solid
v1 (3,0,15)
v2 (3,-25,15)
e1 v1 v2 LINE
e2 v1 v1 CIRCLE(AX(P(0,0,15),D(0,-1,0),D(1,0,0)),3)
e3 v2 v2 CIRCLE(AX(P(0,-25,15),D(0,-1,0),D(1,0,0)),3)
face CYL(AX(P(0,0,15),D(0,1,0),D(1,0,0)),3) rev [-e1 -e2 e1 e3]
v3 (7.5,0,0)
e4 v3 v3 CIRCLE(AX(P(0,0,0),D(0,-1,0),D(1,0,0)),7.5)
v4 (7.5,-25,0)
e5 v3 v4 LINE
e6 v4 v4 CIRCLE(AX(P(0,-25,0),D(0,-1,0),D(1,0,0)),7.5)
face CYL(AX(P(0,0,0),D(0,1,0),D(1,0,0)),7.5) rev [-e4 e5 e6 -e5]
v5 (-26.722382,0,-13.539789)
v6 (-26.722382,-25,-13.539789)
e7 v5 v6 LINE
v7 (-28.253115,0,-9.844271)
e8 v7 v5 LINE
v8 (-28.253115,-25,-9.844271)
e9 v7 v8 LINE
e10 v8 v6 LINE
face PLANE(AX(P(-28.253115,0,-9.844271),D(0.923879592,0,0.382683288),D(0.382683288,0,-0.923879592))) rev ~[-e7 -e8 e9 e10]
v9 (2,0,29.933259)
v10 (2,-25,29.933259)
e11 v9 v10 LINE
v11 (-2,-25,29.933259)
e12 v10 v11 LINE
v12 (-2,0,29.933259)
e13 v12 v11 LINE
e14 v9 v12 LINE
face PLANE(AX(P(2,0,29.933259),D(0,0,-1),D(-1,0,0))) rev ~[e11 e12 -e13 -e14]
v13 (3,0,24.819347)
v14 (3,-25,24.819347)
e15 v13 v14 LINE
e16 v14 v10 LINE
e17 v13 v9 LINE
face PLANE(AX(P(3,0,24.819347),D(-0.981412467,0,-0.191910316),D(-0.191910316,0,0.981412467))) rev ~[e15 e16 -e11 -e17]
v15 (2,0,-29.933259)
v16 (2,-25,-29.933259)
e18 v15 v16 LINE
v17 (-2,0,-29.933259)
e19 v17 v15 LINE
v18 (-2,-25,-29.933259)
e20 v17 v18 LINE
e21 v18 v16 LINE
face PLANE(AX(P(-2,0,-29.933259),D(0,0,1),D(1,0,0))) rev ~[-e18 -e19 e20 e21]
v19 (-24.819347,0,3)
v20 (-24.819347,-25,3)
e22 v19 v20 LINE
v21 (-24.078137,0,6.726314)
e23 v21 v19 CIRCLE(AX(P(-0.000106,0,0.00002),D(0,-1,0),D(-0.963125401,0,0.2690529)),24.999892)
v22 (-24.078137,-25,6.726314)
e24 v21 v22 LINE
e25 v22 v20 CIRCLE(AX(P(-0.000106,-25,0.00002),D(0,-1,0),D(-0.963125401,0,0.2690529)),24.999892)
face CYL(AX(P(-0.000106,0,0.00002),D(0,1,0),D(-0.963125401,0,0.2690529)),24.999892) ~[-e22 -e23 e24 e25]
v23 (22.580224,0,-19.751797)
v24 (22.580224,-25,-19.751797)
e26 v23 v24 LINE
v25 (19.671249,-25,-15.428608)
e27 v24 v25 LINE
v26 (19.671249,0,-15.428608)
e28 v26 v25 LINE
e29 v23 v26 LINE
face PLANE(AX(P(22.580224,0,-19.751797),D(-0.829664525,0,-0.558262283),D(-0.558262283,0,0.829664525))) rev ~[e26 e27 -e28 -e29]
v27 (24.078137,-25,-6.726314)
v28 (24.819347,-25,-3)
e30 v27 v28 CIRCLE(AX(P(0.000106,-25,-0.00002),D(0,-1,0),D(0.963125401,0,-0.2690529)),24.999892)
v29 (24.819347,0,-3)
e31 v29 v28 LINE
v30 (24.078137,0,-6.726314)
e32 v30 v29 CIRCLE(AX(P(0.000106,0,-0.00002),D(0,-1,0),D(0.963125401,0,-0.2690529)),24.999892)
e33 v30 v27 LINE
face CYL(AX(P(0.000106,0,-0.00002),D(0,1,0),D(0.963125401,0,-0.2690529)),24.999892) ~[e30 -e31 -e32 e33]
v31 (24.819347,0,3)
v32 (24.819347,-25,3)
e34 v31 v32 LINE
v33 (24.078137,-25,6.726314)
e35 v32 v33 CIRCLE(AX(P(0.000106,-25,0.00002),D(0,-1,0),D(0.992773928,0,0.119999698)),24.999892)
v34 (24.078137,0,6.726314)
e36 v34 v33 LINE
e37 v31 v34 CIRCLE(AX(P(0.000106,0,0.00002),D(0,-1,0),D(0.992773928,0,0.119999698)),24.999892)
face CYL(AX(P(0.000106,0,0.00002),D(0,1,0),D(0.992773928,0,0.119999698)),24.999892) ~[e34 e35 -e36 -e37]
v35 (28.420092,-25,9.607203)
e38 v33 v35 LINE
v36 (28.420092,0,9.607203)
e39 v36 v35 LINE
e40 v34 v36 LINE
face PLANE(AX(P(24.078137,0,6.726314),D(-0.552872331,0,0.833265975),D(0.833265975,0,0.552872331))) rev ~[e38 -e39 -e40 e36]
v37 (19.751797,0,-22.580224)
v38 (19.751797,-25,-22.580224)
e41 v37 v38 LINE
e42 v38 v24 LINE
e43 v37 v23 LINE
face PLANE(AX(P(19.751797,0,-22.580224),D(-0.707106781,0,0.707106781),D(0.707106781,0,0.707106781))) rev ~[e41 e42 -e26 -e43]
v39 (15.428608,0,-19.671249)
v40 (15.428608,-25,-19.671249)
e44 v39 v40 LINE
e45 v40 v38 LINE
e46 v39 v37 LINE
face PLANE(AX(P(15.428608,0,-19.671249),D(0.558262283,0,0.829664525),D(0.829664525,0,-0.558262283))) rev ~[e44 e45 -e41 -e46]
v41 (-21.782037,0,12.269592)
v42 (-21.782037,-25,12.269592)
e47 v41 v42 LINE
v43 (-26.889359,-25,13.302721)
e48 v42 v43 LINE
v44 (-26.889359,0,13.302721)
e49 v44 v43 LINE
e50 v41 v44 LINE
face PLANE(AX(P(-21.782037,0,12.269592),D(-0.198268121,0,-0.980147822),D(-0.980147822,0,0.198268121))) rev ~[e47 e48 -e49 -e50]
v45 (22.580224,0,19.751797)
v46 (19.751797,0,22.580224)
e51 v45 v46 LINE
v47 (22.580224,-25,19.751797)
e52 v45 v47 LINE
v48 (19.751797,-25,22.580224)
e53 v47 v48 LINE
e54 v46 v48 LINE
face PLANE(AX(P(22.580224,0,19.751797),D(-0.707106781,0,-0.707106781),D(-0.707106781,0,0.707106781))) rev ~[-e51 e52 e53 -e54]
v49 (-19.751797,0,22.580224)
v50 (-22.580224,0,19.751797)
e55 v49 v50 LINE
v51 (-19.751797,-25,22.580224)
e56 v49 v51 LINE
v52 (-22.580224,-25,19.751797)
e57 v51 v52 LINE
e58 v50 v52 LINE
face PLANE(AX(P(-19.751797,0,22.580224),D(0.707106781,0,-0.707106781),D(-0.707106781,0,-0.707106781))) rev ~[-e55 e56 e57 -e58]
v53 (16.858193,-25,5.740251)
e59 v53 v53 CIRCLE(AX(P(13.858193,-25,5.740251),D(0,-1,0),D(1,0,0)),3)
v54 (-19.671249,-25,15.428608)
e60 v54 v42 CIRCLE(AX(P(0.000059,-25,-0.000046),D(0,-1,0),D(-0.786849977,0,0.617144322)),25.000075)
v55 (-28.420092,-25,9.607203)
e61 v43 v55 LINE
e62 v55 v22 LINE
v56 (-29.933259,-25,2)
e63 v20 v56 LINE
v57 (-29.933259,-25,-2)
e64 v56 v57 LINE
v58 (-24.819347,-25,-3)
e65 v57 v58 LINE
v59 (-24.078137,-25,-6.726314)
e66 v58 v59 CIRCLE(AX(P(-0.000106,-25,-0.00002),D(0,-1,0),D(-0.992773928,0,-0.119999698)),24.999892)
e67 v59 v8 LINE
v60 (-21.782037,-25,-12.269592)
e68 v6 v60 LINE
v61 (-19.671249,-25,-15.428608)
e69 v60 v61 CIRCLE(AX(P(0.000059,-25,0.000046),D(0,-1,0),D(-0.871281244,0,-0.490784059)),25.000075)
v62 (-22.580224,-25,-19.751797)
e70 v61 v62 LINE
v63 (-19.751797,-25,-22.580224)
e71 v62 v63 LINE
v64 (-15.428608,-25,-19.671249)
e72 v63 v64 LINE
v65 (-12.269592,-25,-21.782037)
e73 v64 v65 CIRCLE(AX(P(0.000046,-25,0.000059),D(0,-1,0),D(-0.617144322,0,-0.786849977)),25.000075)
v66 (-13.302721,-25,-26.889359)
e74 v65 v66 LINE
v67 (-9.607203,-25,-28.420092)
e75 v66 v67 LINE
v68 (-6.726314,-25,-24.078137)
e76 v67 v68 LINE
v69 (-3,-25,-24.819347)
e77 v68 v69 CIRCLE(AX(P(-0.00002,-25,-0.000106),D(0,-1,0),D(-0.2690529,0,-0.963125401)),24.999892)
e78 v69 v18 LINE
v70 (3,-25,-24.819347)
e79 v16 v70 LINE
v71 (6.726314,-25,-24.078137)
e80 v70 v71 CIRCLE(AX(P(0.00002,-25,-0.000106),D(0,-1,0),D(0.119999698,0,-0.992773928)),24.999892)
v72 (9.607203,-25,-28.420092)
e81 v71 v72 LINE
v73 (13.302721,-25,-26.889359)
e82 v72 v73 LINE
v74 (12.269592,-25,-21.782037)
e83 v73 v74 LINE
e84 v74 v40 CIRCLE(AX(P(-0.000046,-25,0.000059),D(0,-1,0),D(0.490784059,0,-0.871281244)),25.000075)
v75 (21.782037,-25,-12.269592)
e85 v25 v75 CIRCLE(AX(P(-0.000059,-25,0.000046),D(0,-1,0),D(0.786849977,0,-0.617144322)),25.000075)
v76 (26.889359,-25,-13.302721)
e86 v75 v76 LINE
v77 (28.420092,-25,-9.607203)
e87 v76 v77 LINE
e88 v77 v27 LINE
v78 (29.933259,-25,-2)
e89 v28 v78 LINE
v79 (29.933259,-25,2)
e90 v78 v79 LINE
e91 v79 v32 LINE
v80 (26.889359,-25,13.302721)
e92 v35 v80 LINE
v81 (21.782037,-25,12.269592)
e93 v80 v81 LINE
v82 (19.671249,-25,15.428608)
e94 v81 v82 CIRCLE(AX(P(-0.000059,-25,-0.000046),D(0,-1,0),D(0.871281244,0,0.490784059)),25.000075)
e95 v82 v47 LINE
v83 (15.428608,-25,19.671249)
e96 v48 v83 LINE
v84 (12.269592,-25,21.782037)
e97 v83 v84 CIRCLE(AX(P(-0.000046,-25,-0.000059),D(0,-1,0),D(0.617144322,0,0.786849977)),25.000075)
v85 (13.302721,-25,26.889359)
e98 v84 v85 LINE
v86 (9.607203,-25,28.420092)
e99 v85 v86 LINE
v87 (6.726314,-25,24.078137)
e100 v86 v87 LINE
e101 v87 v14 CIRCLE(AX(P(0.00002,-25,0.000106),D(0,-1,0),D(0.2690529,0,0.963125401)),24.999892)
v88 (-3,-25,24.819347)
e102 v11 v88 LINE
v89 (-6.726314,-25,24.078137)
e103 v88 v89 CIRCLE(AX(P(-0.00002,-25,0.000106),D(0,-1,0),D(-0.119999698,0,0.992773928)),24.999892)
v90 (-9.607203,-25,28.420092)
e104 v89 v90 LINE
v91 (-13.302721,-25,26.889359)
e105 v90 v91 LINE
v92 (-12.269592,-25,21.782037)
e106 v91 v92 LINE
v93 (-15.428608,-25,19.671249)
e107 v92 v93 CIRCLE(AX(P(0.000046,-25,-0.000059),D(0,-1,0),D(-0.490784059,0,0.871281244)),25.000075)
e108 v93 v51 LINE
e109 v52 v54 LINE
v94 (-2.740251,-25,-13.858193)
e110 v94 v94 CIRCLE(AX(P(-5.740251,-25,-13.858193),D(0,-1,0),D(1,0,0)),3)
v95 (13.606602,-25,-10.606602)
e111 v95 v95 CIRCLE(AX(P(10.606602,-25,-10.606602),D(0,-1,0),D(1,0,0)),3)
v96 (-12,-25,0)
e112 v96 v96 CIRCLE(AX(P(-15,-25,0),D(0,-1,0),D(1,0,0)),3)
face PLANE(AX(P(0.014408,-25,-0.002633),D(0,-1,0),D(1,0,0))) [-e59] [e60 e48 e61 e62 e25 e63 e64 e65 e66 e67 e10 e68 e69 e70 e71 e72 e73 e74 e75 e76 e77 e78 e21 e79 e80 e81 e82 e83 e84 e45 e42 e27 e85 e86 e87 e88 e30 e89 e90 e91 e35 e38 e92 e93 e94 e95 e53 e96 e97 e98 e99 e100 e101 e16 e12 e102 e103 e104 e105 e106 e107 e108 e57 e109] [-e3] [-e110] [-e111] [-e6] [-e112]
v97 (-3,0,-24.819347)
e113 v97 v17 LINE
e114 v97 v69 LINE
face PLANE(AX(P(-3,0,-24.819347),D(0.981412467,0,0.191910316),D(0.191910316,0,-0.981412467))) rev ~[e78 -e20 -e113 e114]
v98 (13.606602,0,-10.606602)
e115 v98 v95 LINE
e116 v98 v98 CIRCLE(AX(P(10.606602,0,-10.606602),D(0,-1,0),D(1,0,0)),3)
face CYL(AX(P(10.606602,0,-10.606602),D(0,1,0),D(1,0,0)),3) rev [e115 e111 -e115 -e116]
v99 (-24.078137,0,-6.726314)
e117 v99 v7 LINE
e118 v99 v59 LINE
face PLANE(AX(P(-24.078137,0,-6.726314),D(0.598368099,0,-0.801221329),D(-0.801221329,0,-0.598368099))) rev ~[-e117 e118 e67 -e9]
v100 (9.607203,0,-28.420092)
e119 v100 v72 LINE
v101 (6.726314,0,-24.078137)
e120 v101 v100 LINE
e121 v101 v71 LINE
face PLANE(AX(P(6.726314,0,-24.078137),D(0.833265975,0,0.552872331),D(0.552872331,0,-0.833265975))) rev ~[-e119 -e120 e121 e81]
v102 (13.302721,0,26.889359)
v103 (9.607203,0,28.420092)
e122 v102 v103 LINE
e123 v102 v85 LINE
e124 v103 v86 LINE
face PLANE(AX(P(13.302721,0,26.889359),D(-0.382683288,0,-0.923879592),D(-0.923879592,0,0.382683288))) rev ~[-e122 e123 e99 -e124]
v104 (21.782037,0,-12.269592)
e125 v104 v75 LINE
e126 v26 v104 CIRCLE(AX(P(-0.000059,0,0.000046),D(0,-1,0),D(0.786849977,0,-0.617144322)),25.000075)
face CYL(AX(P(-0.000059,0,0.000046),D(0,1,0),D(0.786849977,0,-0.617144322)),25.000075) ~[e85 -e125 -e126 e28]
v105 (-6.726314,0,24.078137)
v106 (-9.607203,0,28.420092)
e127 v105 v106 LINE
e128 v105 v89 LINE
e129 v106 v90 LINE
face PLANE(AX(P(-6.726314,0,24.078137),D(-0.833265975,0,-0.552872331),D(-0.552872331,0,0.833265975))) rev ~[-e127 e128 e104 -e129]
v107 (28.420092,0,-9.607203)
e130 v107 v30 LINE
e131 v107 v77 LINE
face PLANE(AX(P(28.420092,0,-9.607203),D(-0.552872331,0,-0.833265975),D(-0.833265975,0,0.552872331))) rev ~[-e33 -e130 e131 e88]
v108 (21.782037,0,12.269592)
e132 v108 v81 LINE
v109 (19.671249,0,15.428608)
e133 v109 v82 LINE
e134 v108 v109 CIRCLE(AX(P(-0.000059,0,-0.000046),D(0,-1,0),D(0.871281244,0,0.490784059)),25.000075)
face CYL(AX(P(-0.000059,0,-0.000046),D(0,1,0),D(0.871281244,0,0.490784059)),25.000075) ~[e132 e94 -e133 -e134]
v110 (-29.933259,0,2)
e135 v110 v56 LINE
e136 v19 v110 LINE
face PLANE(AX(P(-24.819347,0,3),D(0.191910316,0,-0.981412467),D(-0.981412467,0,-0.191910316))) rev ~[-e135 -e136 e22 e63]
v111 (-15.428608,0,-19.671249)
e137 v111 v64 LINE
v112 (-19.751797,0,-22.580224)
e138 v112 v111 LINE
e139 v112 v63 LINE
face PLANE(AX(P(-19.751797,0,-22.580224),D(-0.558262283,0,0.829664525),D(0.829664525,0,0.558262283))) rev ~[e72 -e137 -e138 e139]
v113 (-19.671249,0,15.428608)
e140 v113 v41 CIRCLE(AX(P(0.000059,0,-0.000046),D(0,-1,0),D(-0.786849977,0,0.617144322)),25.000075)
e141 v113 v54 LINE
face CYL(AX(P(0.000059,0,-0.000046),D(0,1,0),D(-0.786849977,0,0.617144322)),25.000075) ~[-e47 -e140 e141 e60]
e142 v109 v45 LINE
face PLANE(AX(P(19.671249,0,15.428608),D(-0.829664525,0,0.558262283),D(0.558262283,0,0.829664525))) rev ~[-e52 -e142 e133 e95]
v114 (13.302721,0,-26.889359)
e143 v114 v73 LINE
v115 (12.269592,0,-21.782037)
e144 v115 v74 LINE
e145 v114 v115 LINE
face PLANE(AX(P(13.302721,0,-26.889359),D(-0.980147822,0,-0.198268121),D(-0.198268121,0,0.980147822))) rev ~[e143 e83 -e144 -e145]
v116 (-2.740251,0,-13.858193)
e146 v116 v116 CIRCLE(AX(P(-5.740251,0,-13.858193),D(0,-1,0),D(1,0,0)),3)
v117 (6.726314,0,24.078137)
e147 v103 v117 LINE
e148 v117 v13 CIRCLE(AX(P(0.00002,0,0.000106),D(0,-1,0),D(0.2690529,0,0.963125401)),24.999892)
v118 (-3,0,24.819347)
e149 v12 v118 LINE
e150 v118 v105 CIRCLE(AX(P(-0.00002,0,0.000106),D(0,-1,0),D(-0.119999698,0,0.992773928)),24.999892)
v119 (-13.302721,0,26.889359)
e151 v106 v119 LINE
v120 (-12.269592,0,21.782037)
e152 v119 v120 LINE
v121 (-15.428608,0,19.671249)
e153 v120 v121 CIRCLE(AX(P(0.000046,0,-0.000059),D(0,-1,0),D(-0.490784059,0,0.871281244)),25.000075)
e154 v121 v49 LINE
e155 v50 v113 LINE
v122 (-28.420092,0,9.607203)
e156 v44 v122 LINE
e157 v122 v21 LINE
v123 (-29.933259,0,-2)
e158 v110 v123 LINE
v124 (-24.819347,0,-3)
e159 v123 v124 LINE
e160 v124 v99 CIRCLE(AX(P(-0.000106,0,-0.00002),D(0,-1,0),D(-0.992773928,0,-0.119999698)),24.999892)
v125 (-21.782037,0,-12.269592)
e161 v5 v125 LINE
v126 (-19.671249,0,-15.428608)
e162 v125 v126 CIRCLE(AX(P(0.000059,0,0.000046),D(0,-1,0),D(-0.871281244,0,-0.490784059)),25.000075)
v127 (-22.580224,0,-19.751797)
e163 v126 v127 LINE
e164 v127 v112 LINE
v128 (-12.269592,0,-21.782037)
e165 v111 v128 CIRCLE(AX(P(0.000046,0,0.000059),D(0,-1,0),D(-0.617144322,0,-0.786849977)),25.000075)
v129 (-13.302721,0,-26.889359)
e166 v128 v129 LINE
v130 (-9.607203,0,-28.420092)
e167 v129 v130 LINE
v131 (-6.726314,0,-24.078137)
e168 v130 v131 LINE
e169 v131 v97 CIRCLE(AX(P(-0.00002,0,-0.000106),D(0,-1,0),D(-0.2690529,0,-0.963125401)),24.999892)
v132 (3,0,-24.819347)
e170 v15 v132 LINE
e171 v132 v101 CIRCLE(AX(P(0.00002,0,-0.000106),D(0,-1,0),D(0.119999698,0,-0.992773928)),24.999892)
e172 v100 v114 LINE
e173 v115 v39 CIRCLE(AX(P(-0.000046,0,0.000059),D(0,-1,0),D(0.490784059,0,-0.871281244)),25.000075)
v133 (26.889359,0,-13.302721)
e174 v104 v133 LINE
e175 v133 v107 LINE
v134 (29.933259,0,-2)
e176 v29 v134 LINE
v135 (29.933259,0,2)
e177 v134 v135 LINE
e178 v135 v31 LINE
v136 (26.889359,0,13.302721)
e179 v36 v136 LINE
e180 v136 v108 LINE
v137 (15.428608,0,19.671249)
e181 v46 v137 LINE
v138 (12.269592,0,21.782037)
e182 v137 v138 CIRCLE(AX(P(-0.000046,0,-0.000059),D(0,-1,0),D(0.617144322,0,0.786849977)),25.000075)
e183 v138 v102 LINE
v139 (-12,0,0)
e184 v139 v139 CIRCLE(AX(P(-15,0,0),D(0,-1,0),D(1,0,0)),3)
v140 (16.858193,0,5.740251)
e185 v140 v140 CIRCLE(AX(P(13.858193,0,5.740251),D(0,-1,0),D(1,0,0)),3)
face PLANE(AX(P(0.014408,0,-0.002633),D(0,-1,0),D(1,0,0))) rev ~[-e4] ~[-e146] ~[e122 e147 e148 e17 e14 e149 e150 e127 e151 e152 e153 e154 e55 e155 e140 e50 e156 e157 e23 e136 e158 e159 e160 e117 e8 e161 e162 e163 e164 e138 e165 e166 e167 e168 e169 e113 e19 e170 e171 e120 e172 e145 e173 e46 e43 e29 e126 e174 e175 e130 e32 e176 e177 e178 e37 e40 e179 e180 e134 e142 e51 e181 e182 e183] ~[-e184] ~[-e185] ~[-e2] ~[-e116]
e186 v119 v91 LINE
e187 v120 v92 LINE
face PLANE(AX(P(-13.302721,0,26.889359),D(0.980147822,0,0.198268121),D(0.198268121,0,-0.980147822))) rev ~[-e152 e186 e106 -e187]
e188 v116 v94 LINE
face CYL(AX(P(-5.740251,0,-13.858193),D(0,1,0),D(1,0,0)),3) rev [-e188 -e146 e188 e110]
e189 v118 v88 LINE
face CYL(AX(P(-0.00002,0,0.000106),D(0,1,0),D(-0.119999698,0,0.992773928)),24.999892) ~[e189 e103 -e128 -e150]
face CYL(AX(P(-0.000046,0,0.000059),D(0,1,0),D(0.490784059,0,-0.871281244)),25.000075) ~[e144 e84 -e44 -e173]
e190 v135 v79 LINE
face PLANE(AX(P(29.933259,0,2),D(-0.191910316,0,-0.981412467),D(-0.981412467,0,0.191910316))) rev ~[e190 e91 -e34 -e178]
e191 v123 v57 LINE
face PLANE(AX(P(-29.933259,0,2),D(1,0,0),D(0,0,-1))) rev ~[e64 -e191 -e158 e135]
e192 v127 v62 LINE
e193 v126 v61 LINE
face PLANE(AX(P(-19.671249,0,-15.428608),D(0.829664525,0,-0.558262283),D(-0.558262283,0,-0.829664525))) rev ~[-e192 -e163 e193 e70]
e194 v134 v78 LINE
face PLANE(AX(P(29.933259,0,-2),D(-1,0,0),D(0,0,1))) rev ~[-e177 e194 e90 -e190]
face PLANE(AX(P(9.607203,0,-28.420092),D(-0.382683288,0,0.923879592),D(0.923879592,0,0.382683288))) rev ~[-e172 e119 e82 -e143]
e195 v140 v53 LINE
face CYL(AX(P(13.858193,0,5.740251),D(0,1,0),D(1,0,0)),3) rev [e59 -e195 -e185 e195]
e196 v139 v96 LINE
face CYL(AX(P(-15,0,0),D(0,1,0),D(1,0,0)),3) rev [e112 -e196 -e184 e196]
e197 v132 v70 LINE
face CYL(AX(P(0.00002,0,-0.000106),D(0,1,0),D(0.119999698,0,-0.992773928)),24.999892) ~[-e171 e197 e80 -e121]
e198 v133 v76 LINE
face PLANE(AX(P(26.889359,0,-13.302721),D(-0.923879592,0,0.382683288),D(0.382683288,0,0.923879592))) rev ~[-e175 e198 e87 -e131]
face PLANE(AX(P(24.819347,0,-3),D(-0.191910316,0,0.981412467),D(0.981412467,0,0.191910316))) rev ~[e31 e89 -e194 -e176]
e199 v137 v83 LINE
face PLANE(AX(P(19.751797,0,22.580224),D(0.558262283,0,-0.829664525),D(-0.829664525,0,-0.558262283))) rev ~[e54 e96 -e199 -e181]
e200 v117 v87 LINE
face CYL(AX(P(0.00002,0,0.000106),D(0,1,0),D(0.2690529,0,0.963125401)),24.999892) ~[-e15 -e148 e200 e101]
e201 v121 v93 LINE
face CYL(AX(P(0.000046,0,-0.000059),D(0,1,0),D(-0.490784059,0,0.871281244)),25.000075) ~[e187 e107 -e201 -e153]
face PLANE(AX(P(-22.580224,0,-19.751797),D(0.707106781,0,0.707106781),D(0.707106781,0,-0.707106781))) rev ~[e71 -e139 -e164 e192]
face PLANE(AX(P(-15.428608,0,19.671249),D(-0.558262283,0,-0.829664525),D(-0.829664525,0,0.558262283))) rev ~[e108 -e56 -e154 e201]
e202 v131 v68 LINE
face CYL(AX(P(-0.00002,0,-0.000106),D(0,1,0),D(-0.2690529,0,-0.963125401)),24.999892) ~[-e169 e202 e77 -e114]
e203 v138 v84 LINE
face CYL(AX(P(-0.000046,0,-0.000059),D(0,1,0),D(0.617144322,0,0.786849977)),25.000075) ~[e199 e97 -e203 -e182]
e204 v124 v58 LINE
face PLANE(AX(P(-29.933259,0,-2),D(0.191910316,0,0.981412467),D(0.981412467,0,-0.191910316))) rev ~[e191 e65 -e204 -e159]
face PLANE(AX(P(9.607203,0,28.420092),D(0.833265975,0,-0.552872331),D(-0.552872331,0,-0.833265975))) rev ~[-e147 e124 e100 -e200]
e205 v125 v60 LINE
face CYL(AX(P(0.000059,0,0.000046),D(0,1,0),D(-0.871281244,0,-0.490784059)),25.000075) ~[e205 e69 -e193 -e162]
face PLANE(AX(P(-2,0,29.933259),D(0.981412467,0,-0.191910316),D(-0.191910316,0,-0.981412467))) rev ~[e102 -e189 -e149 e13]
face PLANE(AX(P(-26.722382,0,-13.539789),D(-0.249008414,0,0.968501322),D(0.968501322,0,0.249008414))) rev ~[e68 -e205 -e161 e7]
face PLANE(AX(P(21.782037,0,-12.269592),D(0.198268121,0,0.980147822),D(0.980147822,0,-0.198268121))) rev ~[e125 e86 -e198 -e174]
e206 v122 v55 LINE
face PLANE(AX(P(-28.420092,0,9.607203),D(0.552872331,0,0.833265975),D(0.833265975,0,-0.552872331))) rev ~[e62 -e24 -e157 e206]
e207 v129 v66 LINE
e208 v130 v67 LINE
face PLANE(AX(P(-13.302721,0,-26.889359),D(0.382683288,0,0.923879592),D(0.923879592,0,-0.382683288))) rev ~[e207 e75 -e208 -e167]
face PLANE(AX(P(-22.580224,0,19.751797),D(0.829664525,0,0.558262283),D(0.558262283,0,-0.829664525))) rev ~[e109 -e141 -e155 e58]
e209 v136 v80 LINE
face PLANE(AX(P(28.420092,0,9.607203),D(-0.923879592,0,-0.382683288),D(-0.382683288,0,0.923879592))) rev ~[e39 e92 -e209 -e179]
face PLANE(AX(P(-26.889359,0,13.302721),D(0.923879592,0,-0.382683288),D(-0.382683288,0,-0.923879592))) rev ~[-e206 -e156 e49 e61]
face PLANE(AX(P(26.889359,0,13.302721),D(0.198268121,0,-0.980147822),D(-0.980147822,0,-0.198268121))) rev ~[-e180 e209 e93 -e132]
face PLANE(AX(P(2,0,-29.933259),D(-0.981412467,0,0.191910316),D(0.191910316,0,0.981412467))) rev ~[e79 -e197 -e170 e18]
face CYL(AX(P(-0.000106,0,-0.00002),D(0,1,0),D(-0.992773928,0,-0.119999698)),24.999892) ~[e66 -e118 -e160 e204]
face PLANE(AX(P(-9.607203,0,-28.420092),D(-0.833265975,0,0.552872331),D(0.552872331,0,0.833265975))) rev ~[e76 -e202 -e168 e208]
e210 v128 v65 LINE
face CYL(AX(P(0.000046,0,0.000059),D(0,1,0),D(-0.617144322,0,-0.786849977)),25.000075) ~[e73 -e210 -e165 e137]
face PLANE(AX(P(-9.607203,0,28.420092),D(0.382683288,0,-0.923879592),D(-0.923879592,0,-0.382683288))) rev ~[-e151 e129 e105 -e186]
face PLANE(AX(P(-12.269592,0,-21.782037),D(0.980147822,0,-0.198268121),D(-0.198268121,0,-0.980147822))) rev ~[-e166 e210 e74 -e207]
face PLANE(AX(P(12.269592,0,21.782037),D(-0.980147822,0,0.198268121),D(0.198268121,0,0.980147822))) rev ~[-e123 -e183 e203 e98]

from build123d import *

# Parameters (mm, degrees)
F0_R     = 3
F0_R_2   = 7.5
F1_DEPTH = 25


with BuildPart() as f1:
    # F0 (on Front) → F1 (new body)
    with BuildSketch(Plane.XZ):
        with BuildLine():
            Line((9.607203, 28.420092), (6.726314, 24.078137))
            ThreePointArc((6.726314, 24.078137), (4.877258, 24.519632), (3, 24.819347))
            Line((3, 24.819347), (2, 29.933259))
            Line((2, 29.933259), (-2, 29.933259))
            Line((-2, 29.933259), (-3, 24.819347))
            ThreePointArc((-3, 24.819347), (-4.877258, 24.519632), (-6.726314, 24.078137))
            Line((-6.726314, 24.078137), (-9.607203, 28.420092))
            Line((-9.607203, 28.420092), (-13.302721, 26.889359))
            Line((-13.302721, 26.889359), (-12.269592, 21.782037))
            ThreePointArc((-12.269592, 21.782037), (-13.889256, 20.78674), (-15.428608, 19.671249))
            Line((-15.428608, 19.671249), (-19.751797, 22.580224))
            Line((-19.751797, 22.580224), (-22.580224, 19.751797))
            Line((-22.580224, 19.751797), (-19.671249, 15.428608))
            ThreePointArc((-19.671249, 15.428608), (-20.78674, 13.889256), (-21.782037, 12.269592))
            Line((-21.782037, 12.269592), (-26.889359, 13.302721))
            Line((-26.889359, 13.302721), (-28.420092, 9.607203))
            Line((-28.420092, 9.607203), (-24.078137, 6.726314))
            ThreePointArc((-24.078137, 6.726314), (-24.519632, 4.877258), (-24.819347, 3))
            Line((-24.819347, 3), (-29.933259, 2))
            Line((-29.933259, 2), (-29.933259, -2))
            Line((-29.933259, -2), (-24.819347, -3))
            ThreePointArc((-24.819347, -3), (-24.519632, -4.877258), (-24.078137, -6.726314))
            Line((-24.078137, -6.726314), (-28.253115, -9.844271))
            Line((-28.253115, -9.844271), (-26.722382, -13.539789))
            Line((-26.722382, -13.539789), (-21.782037, -12.269592))
            ThreePointArc((-21.782037, -12.269592), (-20.78674, -13.889256), (-19.671249, -15.428608))
            Line((-19.671249, -15.428608), (-22.580224, -19.751797))
            Line((-22.580224, -19.751797), (-19.751797, -22.580224))
            Line((-19.751797, -22.580224), (-15.428608, -19.671249))
            ThreePointArc((-15.428608, -19.671249), (-13.889256, -20.78674), (-12.269592, -21.782037))
            Line((-12.269592, -21.782037), (-13.302721, -26.889359))
            Line((-13.302721, -26.889359), (-9.607203, -28.420092))
            Line((-9.607203, -28.420092), (-6.726314, -24.078137))
            ThreePointArc((-6.726314, -24.078137), (-4.877258, -24.519632), (-3, -24.819347))
            Line((-3, -24.819347), (-2, -29.933259))
            Line((-2, -29.933259), (2, -29.933259))
            Line((2, -29.933259), (3, -24.819347))
            ThreePointArc((3, -24.819347), (4.877258, -24.519632), (6.726314, -24.078137))
            Line((6.726314, -24.078137), (9.607203, -28.420092))
            Line((9.607203, -28.420092), (13.302721, -26.889359))
            Line((13.302721, -26.889359), (12.269592, -21.782037))
            ThreePointArc((12.269592, -21.782037), (13.889256, -20.78674), (15.428608, -19.671249))
            Line((15.428608, -19.671249), (19.751797, -22.580224))
            Line((19.751797, -22.580224), (22.580224, -19.751797))
            Line((22.580224, -19.751797), (19.671249, -15.428608))
            ThreePointArc((19.671249, -15.428608), (20.78674, -13.889256), (21.782037, -12.269592))
            Line((21.782037, -12.269592), (26.889359, -13.302721))
            Line((26.889359, -13.302721), (28.420092, -9.607203))
            Line((28.420092, -9.607203), (24.078137, -6.726314))
            ThreePointArc((24.078137, -6.726314), (24.519632, -4.877258), (24.819347, -3))
            Line((24.819347, -3), (29.933259, -2))
            Line((29.933259, -2), (29.933259, 2))
            Line((29.933259, 2), (24.819347, 3))
            ThreePointArc((24.819347, 3), (24.519632, 4.877258), (24.078137, 6.726314))
            Line((24.078137, 6.726314), (28.420092, 9.607203))
            Line((28.420092, 9.607203), (26.889359, 13.302721))
            Line((26.889359, 13.302721), (21.782037, 12.269592))
            ThreePointArc((21.782037, 12.269592), (20.78674, 13.889256), (19.671249, 15.428608))
            Line((19.671249, 15.428608), (22.580224, 19.751797))
            Line((22.580224, 19.751797), (19.751797, 22.580224))
            Line((19.751797, 22.580224), (15.428608, 19.671249))
            ThreePointArc((15.428608, 19.671249), (13.889256, 20.78674), (12.269592, 21.782037))
            Line((12.269592, 21.782037), (13.302721, 26.889359))
            Line((13.302721, 26.889359), (9.607203, 28.420092))
        make_face()
        with Locations((-15, 0)):
            Circle(F0_R, mode=Mode.SUBTRACT)
        with Locations((-5.740251, -13.858193)):
            Circle(F0_R, mode=Mode.SUBTRACT)
        Circle(F0_R_2, mode=Mode.SUBTRACT)
        with Locations((10.606602, -10.606602)):
            Circle(F0_R, mode=Mode.SUBTRACT)
        with Locations((0, 15)):
            Circle(F0_R, mode=Mode.SUBTRACT)
        with Locations((13.858193, 5.740251)):
            Circle(F0_R, mode=Mode.SUBTRACT)
    extrude(amount=F1_DEPTH)


solid = f1.part
